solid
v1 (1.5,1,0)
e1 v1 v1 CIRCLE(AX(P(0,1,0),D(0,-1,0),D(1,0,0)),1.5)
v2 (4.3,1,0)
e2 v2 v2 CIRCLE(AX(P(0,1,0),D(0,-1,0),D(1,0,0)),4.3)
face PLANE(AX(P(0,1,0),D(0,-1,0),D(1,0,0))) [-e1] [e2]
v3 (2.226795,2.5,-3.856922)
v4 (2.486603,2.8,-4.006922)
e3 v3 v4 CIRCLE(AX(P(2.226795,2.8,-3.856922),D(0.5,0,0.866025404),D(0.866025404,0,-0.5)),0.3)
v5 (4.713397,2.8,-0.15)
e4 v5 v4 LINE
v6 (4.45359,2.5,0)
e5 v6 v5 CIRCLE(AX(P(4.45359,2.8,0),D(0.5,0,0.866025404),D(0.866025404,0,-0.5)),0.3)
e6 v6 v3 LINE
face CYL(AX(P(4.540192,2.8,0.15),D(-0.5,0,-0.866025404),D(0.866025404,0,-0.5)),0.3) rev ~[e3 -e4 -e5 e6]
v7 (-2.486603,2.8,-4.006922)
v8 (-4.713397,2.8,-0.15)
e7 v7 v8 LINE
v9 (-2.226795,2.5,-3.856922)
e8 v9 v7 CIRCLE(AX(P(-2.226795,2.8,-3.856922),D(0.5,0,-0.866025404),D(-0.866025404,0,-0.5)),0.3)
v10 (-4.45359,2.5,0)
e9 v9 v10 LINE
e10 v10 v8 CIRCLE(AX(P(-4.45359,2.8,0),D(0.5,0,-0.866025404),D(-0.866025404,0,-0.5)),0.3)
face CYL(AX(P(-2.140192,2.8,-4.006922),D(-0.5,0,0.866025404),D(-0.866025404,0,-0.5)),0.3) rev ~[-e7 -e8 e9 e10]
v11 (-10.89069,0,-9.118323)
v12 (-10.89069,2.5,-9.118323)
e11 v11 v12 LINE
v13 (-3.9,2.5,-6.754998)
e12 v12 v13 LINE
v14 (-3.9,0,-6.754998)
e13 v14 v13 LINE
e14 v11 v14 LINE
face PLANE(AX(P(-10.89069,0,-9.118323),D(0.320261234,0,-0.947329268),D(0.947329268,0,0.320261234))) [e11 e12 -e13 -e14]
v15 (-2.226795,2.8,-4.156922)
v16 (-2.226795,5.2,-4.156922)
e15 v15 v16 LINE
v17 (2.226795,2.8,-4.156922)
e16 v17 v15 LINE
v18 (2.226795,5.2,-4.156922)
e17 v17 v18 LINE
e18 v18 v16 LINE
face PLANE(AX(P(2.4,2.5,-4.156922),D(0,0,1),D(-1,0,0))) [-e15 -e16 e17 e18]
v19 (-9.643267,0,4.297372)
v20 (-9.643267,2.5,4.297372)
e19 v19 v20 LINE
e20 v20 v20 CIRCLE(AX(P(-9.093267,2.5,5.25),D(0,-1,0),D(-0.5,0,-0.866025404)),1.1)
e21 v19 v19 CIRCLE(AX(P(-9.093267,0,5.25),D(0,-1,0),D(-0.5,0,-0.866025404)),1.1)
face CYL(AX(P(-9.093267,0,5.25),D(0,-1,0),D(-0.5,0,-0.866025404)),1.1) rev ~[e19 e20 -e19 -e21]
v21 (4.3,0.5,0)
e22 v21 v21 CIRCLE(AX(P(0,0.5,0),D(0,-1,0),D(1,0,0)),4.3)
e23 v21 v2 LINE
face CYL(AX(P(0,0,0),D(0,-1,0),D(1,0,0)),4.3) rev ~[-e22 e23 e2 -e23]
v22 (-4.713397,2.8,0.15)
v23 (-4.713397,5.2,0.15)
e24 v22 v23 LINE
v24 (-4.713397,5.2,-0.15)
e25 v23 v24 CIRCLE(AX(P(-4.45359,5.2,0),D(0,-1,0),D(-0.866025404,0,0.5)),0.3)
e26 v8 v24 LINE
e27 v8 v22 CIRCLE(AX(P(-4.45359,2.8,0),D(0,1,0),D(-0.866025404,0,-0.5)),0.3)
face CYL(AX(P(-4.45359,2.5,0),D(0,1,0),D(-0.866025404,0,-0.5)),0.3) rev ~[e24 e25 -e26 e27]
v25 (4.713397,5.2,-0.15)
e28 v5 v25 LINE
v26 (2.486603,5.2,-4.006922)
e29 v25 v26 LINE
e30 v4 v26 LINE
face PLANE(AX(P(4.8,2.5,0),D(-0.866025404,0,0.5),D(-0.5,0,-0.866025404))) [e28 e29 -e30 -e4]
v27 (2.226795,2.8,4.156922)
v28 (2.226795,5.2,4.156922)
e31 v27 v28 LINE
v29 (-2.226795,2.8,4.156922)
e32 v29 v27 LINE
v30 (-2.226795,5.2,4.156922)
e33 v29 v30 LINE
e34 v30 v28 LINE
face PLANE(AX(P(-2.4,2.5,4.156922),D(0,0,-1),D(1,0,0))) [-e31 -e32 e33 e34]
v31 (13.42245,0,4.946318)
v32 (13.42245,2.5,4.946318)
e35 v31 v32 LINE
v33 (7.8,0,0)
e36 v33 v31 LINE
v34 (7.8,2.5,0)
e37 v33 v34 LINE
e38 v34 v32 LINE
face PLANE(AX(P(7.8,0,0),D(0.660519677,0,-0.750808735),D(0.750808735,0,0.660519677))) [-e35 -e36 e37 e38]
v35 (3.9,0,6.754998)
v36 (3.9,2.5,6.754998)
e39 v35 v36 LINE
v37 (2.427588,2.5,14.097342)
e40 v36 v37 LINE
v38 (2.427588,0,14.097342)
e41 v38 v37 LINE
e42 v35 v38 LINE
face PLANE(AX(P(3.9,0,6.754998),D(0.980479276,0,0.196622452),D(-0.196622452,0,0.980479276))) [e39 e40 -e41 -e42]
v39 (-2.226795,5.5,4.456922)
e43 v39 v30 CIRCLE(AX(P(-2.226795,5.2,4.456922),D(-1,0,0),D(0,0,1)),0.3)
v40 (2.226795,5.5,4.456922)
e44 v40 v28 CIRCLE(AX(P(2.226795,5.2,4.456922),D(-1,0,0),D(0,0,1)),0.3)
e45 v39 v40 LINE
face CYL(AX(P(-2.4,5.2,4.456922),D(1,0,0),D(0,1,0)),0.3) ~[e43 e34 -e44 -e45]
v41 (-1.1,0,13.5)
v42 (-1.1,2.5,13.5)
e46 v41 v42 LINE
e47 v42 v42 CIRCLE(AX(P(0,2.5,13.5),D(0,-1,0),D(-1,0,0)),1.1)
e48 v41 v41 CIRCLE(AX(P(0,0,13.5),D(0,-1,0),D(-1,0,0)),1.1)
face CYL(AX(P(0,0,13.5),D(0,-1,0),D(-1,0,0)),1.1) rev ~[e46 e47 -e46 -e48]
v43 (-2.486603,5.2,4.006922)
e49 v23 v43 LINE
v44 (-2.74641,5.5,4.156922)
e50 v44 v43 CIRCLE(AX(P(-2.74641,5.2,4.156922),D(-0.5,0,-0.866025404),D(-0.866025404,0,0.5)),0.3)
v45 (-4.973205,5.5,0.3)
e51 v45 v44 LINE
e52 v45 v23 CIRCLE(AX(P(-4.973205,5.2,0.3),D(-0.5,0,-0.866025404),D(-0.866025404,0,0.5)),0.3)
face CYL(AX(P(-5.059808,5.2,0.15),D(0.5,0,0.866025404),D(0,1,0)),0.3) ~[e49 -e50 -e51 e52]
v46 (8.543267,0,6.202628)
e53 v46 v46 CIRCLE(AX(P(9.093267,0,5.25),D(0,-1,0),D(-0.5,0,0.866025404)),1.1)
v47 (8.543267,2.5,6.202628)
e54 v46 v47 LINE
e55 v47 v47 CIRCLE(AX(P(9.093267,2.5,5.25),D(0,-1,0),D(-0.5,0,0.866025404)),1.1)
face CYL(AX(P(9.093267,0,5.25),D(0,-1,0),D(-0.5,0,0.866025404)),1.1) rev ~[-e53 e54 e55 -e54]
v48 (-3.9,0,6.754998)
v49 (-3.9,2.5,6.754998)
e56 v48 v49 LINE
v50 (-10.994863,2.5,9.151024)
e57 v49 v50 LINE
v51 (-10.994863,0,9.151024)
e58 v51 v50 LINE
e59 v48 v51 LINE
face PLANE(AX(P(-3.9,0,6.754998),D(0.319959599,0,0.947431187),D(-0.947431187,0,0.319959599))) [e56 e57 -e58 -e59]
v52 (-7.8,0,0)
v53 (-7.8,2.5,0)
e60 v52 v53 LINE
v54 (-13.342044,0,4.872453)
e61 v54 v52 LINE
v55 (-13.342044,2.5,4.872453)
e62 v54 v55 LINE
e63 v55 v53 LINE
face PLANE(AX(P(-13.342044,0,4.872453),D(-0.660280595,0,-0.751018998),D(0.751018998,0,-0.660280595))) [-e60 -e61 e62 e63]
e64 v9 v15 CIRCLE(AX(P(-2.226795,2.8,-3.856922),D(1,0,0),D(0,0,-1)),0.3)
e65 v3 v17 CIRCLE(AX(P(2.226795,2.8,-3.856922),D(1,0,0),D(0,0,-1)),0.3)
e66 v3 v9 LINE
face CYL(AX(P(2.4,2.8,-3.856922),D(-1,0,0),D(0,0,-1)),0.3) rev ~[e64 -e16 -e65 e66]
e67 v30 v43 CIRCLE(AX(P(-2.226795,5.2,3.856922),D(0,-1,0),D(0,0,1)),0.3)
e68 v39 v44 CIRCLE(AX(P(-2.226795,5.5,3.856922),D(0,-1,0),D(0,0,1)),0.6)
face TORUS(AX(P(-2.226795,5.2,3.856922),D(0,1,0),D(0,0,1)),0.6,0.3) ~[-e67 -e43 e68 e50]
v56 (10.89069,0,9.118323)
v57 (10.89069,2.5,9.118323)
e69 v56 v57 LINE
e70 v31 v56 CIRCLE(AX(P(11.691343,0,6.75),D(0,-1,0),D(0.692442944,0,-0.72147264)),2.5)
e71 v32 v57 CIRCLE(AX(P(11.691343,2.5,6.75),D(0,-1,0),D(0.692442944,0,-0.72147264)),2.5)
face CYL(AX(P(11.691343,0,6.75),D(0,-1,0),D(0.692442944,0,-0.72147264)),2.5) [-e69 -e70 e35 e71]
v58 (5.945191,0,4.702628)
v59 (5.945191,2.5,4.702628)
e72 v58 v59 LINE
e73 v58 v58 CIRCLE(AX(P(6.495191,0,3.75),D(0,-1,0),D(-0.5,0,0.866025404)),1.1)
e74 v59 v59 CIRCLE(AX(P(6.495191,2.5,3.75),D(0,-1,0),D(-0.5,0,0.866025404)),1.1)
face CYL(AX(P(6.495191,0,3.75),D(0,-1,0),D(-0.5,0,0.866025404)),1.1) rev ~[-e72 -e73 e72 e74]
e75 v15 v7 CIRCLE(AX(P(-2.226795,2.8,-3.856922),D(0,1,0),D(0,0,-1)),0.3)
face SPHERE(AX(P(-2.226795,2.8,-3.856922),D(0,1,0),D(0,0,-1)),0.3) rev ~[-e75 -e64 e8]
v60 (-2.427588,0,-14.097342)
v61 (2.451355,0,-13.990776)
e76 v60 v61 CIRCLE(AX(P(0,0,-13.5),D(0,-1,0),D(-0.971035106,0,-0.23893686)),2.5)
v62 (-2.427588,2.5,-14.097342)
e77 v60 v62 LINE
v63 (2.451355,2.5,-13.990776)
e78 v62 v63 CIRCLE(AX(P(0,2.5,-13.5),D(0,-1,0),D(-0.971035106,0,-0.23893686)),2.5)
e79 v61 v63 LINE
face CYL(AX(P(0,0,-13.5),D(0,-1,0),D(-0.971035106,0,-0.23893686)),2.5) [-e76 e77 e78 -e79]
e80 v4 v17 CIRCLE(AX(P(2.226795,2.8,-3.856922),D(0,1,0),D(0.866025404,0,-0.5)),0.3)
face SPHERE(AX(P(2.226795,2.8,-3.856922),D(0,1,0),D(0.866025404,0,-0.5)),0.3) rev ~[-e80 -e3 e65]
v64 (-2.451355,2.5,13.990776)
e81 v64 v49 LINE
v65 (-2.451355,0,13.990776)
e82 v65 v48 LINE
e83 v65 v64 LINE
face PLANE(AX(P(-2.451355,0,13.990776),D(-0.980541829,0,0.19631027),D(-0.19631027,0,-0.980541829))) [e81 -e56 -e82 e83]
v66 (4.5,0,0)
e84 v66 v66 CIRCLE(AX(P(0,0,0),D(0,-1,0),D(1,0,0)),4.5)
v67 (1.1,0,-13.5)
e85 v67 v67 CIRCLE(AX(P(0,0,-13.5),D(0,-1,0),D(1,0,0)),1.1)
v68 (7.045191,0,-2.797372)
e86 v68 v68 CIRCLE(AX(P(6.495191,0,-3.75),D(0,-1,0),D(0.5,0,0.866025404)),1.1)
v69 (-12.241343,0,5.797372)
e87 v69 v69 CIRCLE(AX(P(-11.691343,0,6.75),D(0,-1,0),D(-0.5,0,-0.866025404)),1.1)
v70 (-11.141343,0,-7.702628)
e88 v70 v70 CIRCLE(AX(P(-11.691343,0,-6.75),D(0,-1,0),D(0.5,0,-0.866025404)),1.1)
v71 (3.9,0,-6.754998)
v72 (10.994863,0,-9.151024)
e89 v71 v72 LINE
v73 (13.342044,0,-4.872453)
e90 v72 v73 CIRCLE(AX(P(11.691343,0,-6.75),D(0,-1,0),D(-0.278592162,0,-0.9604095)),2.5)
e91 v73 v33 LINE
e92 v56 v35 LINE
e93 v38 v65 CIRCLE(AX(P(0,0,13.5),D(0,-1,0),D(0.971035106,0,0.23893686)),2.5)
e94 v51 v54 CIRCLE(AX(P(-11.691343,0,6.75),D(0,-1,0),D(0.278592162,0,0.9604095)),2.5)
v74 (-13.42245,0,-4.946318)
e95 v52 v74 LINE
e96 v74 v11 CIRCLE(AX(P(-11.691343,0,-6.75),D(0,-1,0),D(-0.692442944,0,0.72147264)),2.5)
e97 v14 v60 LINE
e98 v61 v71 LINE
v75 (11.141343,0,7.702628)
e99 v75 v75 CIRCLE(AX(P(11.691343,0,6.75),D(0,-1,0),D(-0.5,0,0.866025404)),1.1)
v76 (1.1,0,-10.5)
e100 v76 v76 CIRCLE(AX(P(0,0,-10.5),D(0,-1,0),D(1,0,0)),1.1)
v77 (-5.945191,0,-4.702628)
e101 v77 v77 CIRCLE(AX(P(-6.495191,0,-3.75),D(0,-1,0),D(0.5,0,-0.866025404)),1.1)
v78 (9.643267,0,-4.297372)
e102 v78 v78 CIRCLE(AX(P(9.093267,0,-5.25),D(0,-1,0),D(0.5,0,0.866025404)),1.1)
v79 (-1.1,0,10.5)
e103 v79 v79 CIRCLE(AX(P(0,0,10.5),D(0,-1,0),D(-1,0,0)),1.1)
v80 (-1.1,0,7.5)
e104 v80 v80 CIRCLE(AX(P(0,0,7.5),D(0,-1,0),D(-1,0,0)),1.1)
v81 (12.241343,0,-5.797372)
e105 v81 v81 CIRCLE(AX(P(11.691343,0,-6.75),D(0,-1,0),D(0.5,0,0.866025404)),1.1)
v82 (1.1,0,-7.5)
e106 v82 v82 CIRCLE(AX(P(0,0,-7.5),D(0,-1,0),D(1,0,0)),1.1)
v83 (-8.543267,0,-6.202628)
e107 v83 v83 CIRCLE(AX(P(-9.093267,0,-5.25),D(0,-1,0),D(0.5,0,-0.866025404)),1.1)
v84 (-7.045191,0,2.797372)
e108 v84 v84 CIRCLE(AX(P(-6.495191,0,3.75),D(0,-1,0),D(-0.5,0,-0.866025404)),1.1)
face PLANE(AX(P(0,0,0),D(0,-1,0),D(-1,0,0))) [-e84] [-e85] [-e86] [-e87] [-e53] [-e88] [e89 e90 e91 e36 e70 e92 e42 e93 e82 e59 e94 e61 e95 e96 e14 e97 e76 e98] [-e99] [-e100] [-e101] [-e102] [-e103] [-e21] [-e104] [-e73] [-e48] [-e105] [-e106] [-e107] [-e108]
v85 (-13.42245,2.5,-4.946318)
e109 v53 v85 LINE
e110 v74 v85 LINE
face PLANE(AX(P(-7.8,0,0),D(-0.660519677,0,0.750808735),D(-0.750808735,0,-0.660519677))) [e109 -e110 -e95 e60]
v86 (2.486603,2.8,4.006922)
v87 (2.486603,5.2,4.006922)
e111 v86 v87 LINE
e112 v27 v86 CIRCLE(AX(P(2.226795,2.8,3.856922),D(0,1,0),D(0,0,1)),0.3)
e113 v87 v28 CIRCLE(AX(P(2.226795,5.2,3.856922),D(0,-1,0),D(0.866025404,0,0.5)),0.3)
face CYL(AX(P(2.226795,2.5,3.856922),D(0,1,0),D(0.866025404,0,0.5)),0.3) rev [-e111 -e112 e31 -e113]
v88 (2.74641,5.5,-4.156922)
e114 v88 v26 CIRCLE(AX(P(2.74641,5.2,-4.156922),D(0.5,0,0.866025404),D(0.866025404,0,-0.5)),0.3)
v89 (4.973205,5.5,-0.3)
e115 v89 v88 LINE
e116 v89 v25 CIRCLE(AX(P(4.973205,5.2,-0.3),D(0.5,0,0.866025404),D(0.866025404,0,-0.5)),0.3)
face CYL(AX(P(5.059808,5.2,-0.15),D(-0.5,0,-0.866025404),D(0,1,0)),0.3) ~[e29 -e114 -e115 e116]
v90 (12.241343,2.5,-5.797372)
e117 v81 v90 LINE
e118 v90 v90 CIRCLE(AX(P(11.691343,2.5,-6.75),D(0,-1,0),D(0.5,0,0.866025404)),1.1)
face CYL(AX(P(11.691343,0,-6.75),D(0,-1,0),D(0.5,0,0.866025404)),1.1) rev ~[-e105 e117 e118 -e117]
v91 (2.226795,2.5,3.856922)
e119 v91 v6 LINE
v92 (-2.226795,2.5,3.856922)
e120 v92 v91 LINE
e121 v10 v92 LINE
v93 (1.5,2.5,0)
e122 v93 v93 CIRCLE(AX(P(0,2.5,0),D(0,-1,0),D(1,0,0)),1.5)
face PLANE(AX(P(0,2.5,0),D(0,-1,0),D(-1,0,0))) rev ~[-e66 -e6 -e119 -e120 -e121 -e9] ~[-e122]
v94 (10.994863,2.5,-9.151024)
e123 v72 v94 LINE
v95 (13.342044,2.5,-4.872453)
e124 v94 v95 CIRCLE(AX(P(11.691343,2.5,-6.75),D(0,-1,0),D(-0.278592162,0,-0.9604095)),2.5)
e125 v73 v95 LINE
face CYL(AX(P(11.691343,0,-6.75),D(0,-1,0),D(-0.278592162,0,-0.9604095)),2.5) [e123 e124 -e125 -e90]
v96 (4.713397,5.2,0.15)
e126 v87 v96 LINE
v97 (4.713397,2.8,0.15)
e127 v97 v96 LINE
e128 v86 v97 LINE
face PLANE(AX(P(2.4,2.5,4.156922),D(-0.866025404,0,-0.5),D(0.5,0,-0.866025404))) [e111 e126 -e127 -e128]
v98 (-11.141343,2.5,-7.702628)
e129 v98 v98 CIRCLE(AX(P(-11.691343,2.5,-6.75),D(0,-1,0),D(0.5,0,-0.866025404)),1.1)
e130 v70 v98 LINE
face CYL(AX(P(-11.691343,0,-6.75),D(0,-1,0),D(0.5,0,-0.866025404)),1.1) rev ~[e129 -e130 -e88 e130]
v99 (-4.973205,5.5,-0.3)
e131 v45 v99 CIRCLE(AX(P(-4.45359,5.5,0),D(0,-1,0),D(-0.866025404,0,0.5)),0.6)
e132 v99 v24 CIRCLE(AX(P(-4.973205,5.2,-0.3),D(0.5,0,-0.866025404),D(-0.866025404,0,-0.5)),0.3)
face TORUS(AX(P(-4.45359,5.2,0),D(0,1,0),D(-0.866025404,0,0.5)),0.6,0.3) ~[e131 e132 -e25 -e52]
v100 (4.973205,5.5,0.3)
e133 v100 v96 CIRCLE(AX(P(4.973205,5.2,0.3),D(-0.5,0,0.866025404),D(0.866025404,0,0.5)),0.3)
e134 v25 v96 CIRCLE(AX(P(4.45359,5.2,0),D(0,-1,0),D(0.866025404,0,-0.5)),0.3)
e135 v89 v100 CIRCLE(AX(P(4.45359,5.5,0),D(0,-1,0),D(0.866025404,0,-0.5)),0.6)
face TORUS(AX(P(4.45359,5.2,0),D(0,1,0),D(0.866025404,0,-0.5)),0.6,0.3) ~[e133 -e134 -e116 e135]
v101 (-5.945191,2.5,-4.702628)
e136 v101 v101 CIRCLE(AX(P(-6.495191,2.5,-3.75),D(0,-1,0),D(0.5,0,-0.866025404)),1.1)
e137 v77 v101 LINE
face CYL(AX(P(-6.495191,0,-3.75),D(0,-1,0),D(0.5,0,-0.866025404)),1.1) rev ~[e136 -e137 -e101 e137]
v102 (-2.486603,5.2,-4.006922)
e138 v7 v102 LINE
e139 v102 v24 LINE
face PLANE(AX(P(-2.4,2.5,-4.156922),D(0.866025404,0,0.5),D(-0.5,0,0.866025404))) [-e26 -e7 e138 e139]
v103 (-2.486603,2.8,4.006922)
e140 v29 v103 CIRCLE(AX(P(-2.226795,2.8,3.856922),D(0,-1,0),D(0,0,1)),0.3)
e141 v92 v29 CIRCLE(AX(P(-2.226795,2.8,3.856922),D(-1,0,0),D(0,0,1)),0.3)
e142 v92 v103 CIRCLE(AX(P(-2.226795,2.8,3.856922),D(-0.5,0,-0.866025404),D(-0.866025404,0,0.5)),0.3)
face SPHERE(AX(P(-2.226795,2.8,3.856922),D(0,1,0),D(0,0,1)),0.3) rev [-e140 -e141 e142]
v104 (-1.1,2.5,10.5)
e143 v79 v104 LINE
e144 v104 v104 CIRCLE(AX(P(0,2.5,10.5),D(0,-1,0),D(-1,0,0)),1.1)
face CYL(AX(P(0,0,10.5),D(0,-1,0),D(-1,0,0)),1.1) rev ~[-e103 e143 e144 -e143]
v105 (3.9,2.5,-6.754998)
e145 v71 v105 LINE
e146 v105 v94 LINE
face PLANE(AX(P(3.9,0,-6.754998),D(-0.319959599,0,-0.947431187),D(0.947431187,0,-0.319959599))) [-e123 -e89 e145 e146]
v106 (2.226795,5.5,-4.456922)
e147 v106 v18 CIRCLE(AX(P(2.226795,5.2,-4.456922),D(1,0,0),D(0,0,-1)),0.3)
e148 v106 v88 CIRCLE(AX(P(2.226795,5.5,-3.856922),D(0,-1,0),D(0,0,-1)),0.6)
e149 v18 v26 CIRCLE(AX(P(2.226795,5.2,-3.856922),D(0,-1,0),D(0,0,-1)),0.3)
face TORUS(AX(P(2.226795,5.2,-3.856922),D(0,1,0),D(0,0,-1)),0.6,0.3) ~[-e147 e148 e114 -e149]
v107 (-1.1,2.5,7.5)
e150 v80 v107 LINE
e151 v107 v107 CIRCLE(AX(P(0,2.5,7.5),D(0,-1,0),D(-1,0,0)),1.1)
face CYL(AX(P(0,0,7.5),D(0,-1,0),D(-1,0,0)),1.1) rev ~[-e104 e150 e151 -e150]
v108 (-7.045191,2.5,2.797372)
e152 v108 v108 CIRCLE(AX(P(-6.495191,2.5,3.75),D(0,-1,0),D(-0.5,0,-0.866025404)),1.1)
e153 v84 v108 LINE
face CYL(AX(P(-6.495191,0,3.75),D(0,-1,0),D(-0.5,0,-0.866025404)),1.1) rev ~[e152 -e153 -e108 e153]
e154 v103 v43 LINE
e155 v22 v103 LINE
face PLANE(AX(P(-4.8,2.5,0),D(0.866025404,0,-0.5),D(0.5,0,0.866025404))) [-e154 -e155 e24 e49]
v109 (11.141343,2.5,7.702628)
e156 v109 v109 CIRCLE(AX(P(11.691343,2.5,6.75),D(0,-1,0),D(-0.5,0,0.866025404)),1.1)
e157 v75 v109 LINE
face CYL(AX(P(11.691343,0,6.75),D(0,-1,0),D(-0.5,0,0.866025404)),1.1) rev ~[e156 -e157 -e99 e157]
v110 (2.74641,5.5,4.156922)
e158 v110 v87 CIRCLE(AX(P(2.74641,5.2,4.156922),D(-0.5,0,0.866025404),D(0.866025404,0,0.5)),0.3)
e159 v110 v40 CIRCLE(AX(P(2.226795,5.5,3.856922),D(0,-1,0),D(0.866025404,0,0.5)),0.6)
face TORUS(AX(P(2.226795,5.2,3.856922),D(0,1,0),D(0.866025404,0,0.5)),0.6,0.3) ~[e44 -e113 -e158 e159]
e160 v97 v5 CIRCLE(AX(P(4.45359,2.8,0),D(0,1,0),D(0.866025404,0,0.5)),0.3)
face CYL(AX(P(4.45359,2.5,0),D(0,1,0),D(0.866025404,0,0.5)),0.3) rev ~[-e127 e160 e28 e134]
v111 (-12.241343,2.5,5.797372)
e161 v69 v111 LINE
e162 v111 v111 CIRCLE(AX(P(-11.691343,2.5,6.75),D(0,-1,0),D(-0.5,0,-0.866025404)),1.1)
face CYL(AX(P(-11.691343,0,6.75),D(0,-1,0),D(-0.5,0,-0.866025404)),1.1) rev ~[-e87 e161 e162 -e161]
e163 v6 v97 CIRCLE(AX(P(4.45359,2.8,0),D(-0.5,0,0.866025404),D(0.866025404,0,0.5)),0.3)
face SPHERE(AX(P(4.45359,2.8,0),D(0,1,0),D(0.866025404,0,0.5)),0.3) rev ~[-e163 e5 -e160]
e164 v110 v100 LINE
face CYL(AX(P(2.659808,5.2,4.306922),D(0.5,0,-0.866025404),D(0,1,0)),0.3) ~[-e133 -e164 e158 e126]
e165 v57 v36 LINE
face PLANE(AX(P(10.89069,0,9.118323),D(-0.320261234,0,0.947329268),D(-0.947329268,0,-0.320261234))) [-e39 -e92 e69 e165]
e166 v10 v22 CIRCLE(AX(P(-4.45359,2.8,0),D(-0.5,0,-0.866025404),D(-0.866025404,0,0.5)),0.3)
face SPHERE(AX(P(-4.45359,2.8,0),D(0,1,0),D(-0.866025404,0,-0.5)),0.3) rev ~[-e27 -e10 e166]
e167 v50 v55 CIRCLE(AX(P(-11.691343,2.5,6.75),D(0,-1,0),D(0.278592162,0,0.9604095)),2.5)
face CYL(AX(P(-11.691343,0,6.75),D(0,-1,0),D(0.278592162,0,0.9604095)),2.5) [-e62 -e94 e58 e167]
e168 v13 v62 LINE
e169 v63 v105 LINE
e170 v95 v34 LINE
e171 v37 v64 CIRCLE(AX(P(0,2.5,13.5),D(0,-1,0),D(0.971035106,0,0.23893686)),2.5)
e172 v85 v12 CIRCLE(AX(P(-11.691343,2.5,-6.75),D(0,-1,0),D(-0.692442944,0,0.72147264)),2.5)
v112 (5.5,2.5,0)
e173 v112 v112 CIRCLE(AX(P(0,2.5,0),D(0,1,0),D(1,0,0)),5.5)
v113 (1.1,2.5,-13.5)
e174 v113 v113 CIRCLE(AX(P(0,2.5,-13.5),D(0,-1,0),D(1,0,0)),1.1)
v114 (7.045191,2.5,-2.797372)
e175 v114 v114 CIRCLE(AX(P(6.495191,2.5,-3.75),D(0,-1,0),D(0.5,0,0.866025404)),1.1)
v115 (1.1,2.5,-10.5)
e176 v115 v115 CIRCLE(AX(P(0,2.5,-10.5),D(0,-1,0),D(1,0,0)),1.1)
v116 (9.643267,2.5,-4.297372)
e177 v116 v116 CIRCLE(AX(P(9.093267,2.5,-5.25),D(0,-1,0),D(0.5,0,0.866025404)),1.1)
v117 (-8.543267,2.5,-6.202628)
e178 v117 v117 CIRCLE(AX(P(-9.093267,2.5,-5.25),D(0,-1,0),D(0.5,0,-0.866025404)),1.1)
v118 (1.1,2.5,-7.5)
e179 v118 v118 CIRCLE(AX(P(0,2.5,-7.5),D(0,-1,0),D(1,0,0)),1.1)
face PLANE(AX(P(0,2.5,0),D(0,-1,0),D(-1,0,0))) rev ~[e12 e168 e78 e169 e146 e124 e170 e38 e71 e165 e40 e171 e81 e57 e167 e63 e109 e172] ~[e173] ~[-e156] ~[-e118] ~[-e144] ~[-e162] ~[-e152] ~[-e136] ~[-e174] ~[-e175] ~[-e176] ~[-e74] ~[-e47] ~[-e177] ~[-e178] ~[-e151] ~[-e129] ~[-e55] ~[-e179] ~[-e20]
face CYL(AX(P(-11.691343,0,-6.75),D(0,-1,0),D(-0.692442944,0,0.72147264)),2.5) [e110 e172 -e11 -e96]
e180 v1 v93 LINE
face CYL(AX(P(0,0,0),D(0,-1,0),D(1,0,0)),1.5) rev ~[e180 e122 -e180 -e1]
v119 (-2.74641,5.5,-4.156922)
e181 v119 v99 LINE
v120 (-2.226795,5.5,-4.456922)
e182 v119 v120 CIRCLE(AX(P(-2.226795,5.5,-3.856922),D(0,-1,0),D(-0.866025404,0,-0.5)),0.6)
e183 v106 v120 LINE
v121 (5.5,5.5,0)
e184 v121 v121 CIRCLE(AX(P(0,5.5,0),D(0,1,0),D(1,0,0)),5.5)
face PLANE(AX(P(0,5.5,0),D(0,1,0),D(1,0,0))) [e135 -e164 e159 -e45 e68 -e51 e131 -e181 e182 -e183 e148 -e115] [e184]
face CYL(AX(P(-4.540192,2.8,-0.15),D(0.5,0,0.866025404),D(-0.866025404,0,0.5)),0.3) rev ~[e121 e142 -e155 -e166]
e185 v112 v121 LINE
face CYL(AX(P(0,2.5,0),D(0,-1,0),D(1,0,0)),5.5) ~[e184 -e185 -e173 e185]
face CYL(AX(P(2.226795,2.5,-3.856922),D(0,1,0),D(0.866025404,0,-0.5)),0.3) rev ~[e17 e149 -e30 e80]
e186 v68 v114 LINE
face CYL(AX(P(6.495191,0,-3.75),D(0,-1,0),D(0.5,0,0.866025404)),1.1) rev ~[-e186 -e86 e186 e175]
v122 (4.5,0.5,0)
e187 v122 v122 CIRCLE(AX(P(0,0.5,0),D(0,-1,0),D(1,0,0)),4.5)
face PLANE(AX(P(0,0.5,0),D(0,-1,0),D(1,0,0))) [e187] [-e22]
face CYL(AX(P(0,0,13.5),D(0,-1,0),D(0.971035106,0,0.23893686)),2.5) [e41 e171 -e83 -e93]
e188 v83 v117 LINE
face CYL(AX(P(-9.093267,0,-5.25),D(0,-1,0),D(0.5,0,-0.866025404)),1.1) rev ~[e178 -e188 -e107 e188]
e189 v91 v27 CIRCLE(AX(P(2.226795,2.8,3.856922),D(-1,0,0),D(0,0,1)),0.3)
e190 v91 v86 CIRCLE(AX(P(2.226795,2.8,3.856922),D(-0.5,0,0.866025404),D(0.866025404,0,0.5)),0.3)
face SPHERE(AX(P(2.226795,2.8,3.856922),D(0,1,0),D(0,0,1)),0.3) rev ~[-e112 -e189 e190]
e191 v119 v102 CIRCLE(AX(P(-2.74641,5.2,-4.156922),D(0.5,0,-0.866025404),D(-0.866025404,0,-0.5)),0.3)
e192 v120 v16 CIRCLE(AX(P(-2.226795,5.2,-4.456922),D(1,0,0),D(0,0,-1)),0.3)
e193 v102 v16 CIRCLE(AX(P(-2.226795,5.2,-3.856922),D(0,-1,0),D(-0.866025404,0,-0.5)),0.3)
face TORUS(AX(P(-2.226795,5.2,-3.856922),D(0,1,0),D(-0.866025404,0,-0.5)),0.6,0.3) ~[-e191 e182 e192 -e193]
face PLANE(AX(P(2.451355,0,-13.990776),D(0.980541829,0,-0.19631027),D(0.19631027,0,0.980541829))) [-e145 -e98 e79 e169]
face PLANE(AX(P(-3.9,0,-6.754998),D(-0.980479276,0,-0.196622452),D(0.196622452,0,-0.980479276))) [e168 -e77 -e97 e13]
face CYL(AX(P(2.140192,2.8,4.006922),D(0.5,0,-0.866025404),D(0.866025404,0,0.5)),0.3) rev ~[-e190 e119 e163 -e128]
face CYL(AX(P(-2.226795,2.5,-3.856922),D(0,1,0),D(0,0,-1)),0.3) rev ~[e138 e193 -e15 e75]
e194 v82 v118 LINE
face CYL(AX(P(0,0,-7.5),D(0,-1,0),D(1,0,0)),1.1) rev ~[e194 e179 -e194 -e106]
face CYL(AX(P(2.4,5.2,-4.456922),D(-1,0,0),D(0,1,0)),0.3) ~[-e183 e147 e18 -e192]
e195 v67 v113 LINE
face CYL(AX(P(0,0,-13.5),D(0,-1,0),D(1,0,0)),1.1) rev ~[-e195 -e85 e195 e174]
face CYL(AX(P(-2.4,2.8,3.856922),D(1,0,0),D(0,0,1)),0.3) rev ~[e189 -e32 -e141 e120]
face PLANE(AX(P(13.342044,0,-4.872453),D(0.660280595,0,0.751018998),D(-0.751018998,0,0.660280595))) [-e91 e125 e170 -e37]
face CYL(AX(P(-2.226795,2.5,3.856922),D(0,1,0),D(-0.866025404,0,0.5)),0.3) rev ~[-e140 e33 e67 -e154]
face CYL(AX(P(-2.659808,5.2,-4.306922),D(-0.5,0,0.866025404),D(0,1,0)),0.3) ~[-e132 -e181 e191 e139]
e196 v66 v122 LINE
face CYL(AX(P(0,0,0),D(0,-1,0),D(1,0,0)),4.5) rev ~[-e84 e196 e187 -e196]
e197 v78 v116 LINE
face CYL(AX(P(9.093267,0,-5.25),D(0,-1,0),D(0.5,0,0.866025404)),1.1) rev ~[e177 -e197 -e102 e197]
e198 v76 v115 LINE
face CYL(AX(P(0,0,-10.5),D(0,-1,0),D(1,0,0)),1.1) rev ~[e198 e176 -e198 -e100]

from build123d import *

# Parameters (mm, degrees)
SALIENTE_EXTRUIR1_DEPTH = 2.5
CROQUIS2_R              = 5.5
SALIENTE_EXTRUIR2_DEPTH = 3
CORTAR_EXTRUIR1_REACH   = 7.5
CROQUIS3_R              = 1.5
CROQUIS4_R              = 4.3
CORTAR_EXTRUIR2_DEPTH   = 1
CROQUIS5_R              = 4.5
CROQUIS5_R_2            = 4.3
CORTAR_EXTRUIR3_DEPTH   = 0.5
REDONDEO1_R             = 0.3
CROQUIS6_R              = 1.1
CORTAR_EXTRUIR4_DEPTH   = 2.5
MATRIZC1_COUNT          = 6


with BuildPart() as part:
    # Croquis1 → Saliente-Extruir1 (new body)
    with BuildSketch(Plane(origin=(0, 0, 0), x_dir=(1, 0, 0), z_dir=(0, 1, 0))):
        with BuildLine():
            Line((-3.9, -6.75499815), (-10.994862545, -9.151023749))
            ThreePointArc((-10.994862545, -9.151023749), (-13.88318634, -7.952423618), (-13.342044439, -4.872452504))
            Line((-13.342044439, -4.872452504), (-7.8, 0))
            Line((-7.8, 0), (-13.42245031, 4.9463184))
            ThreePointArc((-13.42245031, 4.9463184), (-13.828594045, 8.046980247), (-10.890689867, 9.11832317))
            Line((-10.890689867, 9.11832317), (-3.9, 6.75499815))
            Line((-3.9, 6.75499815), (-2.427587765, 14.097342149))
            ThreePointArc((-2.427587765, 14.097342149), (0.054592295, 15.999403865), (2.451354572, 13.990775674))
            Line((2.451354572, 13.990775674), (3.9, 6.75499815))
            Line((3.9, 6.75499815), (10.994862545, 9.151023749))
            ThreePointArc((10.994862545, 9.151023749), (13.88318634, 7.952423618), (13.342044439, 4.872452504))
            Line((13.342044439, 4.872452504), (7.8, 0))
            Line((7.8, 0), (13.42245031, -4.9463184))
            ThreePointArc((13.42245031, -4.9463184), (13.828594045, -8.046980247), (10.890689867, -9.11832317))
            Line((10.890689867, -9.11832317), (3.9, -6.75499815))
            Line((3.9, -6.75499815), (2.427587765, -14.097342149))
            ThreePointArc((2.427587765, -14.097342149), (-0.054592295, -15.999403865), (-2.451354572, -13.990775674))
            Line((-2.451354572, -13.990775674), (-3.9, -6.75499815))
        make_face()
    extrude(amount=SALIENTE_EXTRUIR1_DEPTH)

    # Croquis2 → Saliente-Extruir2 (add)
    with BuildSketch(Plane(origin=(0, 2.5, 0), x_dir=(1, 0, 0), z_dir=(0, 1, 0))):
        Circle(CROQUIS2_R)
        Polygon((2.4, -4.156921938), (4.8, 0), (2.4, 4.156921938), (-2.4, 4.156921938), (-4.8, 0), (-2.4, -4.156921938), align=None, mode=Mode.SUBTRACT)
    extrude(amount=SALIENTE_EXTRUIR2_DEPTH)

    # Croquis3 → Cortar-Extruir1 (cut, up to next)
    with BuildSketch(Plane.XZ, mode=Mode.PRIVATE) as cortar_extruir1_sk1:
        Circle(CROQUIS3_R)
    cortar_extruir1_tool1 = extrude(cortar_extruir1_sk1.sketch, amount=-CORTAR_EXTRUIR1_REACH, mode=Mode.PRIVATE) & part.part
    add(cortar_extruir1_tool1.solids().sort_by_distance((0, 0, 0))[0], mode=Mode.SUBTRACT)

    # Croquis4 → Cortar-Extruir2 (cut)
    with BuildSketch(Plane.XZ):
        Circle(CROQUIS4_R)
    extrude(amount=-CORTAR_EXTRUIR2_DEPTH, mode=Mode.SUBTRACT)

    # Croquis5 → Cortar-Extruir3 (cut)
    with BuildSketch(Plane.XZ):
        Circle(CROQUIS5_R)
        Circle(CROQUIS5_R_2, mode=Mode.SUBTRACT)
    extrude(amount=-CORTAR_EXTRUIR3_DEPTH, mode=Mode.SUBTRACT)

    # Redondeo1
    redondeo1_edges = [part.edges().sort_by_distance(p)[0] for p in [
        (0, 2.5, 4.156921938),
        (3.6, 2.5, 2.078460969),
        (3.6, 2.5, -2.078460969),
        (0, 2.5, -4.156921938),
        (-3.6, 2.5, -2.078460969),
        (-3.6, 2.5, 2.078460969),
        (0, 5.5, 4.156921938),
        (2.4, 4, 4.156921938),
        (3.6, 5.5, 2.078460969),
        (4.8, 4, 0),
        (3.6, 5.5, -2.078460969),
        (2.4, 4, -4.156921938),
        (0, 5.5, -4.156921938),
        (-2.4, 4, -4.156921938),
        (-3.6, 5.5, -2.078460969),
        (-4.8, 4, 0),
        (-3.6, 5.5, 2.078460969),
        (-2.4, 4, 4.156921938),
    ]]
    fillet(redondeo1_edges, radius=REDONDEO1_R)

    # Croquis6 → Cortar-Extruir4 (cut)
    with BuildSketch(Plane.XZ):
        with Locations((0, -13.5)):
            Circle(CROQUIS6_R)
        with Locations((0, -10.5)):
            Circle(CROQUIS6_R)
        with Locations((0, -7.5)):
            Circle(CROQUIS6_R)
    cortar_extruir4 = extrude(amount=-CORTAR_EXTRUIR4_DEPTH, mode=Mode.SUBTRACT)

    # MatrizC1: Cortar-Extruir4 ×6 about axis
    matrizc1_axis = Axis((0, 0, 0), (0, 1, 0))
    for i in range(1, MATRIZC1_COUNT):
        add(cortar_extruir4.rotate(matrizc1_axis, i * 360 / MATRIZC1_COUNT), mode=Mode.SUBTRACT)


solid = part.part
